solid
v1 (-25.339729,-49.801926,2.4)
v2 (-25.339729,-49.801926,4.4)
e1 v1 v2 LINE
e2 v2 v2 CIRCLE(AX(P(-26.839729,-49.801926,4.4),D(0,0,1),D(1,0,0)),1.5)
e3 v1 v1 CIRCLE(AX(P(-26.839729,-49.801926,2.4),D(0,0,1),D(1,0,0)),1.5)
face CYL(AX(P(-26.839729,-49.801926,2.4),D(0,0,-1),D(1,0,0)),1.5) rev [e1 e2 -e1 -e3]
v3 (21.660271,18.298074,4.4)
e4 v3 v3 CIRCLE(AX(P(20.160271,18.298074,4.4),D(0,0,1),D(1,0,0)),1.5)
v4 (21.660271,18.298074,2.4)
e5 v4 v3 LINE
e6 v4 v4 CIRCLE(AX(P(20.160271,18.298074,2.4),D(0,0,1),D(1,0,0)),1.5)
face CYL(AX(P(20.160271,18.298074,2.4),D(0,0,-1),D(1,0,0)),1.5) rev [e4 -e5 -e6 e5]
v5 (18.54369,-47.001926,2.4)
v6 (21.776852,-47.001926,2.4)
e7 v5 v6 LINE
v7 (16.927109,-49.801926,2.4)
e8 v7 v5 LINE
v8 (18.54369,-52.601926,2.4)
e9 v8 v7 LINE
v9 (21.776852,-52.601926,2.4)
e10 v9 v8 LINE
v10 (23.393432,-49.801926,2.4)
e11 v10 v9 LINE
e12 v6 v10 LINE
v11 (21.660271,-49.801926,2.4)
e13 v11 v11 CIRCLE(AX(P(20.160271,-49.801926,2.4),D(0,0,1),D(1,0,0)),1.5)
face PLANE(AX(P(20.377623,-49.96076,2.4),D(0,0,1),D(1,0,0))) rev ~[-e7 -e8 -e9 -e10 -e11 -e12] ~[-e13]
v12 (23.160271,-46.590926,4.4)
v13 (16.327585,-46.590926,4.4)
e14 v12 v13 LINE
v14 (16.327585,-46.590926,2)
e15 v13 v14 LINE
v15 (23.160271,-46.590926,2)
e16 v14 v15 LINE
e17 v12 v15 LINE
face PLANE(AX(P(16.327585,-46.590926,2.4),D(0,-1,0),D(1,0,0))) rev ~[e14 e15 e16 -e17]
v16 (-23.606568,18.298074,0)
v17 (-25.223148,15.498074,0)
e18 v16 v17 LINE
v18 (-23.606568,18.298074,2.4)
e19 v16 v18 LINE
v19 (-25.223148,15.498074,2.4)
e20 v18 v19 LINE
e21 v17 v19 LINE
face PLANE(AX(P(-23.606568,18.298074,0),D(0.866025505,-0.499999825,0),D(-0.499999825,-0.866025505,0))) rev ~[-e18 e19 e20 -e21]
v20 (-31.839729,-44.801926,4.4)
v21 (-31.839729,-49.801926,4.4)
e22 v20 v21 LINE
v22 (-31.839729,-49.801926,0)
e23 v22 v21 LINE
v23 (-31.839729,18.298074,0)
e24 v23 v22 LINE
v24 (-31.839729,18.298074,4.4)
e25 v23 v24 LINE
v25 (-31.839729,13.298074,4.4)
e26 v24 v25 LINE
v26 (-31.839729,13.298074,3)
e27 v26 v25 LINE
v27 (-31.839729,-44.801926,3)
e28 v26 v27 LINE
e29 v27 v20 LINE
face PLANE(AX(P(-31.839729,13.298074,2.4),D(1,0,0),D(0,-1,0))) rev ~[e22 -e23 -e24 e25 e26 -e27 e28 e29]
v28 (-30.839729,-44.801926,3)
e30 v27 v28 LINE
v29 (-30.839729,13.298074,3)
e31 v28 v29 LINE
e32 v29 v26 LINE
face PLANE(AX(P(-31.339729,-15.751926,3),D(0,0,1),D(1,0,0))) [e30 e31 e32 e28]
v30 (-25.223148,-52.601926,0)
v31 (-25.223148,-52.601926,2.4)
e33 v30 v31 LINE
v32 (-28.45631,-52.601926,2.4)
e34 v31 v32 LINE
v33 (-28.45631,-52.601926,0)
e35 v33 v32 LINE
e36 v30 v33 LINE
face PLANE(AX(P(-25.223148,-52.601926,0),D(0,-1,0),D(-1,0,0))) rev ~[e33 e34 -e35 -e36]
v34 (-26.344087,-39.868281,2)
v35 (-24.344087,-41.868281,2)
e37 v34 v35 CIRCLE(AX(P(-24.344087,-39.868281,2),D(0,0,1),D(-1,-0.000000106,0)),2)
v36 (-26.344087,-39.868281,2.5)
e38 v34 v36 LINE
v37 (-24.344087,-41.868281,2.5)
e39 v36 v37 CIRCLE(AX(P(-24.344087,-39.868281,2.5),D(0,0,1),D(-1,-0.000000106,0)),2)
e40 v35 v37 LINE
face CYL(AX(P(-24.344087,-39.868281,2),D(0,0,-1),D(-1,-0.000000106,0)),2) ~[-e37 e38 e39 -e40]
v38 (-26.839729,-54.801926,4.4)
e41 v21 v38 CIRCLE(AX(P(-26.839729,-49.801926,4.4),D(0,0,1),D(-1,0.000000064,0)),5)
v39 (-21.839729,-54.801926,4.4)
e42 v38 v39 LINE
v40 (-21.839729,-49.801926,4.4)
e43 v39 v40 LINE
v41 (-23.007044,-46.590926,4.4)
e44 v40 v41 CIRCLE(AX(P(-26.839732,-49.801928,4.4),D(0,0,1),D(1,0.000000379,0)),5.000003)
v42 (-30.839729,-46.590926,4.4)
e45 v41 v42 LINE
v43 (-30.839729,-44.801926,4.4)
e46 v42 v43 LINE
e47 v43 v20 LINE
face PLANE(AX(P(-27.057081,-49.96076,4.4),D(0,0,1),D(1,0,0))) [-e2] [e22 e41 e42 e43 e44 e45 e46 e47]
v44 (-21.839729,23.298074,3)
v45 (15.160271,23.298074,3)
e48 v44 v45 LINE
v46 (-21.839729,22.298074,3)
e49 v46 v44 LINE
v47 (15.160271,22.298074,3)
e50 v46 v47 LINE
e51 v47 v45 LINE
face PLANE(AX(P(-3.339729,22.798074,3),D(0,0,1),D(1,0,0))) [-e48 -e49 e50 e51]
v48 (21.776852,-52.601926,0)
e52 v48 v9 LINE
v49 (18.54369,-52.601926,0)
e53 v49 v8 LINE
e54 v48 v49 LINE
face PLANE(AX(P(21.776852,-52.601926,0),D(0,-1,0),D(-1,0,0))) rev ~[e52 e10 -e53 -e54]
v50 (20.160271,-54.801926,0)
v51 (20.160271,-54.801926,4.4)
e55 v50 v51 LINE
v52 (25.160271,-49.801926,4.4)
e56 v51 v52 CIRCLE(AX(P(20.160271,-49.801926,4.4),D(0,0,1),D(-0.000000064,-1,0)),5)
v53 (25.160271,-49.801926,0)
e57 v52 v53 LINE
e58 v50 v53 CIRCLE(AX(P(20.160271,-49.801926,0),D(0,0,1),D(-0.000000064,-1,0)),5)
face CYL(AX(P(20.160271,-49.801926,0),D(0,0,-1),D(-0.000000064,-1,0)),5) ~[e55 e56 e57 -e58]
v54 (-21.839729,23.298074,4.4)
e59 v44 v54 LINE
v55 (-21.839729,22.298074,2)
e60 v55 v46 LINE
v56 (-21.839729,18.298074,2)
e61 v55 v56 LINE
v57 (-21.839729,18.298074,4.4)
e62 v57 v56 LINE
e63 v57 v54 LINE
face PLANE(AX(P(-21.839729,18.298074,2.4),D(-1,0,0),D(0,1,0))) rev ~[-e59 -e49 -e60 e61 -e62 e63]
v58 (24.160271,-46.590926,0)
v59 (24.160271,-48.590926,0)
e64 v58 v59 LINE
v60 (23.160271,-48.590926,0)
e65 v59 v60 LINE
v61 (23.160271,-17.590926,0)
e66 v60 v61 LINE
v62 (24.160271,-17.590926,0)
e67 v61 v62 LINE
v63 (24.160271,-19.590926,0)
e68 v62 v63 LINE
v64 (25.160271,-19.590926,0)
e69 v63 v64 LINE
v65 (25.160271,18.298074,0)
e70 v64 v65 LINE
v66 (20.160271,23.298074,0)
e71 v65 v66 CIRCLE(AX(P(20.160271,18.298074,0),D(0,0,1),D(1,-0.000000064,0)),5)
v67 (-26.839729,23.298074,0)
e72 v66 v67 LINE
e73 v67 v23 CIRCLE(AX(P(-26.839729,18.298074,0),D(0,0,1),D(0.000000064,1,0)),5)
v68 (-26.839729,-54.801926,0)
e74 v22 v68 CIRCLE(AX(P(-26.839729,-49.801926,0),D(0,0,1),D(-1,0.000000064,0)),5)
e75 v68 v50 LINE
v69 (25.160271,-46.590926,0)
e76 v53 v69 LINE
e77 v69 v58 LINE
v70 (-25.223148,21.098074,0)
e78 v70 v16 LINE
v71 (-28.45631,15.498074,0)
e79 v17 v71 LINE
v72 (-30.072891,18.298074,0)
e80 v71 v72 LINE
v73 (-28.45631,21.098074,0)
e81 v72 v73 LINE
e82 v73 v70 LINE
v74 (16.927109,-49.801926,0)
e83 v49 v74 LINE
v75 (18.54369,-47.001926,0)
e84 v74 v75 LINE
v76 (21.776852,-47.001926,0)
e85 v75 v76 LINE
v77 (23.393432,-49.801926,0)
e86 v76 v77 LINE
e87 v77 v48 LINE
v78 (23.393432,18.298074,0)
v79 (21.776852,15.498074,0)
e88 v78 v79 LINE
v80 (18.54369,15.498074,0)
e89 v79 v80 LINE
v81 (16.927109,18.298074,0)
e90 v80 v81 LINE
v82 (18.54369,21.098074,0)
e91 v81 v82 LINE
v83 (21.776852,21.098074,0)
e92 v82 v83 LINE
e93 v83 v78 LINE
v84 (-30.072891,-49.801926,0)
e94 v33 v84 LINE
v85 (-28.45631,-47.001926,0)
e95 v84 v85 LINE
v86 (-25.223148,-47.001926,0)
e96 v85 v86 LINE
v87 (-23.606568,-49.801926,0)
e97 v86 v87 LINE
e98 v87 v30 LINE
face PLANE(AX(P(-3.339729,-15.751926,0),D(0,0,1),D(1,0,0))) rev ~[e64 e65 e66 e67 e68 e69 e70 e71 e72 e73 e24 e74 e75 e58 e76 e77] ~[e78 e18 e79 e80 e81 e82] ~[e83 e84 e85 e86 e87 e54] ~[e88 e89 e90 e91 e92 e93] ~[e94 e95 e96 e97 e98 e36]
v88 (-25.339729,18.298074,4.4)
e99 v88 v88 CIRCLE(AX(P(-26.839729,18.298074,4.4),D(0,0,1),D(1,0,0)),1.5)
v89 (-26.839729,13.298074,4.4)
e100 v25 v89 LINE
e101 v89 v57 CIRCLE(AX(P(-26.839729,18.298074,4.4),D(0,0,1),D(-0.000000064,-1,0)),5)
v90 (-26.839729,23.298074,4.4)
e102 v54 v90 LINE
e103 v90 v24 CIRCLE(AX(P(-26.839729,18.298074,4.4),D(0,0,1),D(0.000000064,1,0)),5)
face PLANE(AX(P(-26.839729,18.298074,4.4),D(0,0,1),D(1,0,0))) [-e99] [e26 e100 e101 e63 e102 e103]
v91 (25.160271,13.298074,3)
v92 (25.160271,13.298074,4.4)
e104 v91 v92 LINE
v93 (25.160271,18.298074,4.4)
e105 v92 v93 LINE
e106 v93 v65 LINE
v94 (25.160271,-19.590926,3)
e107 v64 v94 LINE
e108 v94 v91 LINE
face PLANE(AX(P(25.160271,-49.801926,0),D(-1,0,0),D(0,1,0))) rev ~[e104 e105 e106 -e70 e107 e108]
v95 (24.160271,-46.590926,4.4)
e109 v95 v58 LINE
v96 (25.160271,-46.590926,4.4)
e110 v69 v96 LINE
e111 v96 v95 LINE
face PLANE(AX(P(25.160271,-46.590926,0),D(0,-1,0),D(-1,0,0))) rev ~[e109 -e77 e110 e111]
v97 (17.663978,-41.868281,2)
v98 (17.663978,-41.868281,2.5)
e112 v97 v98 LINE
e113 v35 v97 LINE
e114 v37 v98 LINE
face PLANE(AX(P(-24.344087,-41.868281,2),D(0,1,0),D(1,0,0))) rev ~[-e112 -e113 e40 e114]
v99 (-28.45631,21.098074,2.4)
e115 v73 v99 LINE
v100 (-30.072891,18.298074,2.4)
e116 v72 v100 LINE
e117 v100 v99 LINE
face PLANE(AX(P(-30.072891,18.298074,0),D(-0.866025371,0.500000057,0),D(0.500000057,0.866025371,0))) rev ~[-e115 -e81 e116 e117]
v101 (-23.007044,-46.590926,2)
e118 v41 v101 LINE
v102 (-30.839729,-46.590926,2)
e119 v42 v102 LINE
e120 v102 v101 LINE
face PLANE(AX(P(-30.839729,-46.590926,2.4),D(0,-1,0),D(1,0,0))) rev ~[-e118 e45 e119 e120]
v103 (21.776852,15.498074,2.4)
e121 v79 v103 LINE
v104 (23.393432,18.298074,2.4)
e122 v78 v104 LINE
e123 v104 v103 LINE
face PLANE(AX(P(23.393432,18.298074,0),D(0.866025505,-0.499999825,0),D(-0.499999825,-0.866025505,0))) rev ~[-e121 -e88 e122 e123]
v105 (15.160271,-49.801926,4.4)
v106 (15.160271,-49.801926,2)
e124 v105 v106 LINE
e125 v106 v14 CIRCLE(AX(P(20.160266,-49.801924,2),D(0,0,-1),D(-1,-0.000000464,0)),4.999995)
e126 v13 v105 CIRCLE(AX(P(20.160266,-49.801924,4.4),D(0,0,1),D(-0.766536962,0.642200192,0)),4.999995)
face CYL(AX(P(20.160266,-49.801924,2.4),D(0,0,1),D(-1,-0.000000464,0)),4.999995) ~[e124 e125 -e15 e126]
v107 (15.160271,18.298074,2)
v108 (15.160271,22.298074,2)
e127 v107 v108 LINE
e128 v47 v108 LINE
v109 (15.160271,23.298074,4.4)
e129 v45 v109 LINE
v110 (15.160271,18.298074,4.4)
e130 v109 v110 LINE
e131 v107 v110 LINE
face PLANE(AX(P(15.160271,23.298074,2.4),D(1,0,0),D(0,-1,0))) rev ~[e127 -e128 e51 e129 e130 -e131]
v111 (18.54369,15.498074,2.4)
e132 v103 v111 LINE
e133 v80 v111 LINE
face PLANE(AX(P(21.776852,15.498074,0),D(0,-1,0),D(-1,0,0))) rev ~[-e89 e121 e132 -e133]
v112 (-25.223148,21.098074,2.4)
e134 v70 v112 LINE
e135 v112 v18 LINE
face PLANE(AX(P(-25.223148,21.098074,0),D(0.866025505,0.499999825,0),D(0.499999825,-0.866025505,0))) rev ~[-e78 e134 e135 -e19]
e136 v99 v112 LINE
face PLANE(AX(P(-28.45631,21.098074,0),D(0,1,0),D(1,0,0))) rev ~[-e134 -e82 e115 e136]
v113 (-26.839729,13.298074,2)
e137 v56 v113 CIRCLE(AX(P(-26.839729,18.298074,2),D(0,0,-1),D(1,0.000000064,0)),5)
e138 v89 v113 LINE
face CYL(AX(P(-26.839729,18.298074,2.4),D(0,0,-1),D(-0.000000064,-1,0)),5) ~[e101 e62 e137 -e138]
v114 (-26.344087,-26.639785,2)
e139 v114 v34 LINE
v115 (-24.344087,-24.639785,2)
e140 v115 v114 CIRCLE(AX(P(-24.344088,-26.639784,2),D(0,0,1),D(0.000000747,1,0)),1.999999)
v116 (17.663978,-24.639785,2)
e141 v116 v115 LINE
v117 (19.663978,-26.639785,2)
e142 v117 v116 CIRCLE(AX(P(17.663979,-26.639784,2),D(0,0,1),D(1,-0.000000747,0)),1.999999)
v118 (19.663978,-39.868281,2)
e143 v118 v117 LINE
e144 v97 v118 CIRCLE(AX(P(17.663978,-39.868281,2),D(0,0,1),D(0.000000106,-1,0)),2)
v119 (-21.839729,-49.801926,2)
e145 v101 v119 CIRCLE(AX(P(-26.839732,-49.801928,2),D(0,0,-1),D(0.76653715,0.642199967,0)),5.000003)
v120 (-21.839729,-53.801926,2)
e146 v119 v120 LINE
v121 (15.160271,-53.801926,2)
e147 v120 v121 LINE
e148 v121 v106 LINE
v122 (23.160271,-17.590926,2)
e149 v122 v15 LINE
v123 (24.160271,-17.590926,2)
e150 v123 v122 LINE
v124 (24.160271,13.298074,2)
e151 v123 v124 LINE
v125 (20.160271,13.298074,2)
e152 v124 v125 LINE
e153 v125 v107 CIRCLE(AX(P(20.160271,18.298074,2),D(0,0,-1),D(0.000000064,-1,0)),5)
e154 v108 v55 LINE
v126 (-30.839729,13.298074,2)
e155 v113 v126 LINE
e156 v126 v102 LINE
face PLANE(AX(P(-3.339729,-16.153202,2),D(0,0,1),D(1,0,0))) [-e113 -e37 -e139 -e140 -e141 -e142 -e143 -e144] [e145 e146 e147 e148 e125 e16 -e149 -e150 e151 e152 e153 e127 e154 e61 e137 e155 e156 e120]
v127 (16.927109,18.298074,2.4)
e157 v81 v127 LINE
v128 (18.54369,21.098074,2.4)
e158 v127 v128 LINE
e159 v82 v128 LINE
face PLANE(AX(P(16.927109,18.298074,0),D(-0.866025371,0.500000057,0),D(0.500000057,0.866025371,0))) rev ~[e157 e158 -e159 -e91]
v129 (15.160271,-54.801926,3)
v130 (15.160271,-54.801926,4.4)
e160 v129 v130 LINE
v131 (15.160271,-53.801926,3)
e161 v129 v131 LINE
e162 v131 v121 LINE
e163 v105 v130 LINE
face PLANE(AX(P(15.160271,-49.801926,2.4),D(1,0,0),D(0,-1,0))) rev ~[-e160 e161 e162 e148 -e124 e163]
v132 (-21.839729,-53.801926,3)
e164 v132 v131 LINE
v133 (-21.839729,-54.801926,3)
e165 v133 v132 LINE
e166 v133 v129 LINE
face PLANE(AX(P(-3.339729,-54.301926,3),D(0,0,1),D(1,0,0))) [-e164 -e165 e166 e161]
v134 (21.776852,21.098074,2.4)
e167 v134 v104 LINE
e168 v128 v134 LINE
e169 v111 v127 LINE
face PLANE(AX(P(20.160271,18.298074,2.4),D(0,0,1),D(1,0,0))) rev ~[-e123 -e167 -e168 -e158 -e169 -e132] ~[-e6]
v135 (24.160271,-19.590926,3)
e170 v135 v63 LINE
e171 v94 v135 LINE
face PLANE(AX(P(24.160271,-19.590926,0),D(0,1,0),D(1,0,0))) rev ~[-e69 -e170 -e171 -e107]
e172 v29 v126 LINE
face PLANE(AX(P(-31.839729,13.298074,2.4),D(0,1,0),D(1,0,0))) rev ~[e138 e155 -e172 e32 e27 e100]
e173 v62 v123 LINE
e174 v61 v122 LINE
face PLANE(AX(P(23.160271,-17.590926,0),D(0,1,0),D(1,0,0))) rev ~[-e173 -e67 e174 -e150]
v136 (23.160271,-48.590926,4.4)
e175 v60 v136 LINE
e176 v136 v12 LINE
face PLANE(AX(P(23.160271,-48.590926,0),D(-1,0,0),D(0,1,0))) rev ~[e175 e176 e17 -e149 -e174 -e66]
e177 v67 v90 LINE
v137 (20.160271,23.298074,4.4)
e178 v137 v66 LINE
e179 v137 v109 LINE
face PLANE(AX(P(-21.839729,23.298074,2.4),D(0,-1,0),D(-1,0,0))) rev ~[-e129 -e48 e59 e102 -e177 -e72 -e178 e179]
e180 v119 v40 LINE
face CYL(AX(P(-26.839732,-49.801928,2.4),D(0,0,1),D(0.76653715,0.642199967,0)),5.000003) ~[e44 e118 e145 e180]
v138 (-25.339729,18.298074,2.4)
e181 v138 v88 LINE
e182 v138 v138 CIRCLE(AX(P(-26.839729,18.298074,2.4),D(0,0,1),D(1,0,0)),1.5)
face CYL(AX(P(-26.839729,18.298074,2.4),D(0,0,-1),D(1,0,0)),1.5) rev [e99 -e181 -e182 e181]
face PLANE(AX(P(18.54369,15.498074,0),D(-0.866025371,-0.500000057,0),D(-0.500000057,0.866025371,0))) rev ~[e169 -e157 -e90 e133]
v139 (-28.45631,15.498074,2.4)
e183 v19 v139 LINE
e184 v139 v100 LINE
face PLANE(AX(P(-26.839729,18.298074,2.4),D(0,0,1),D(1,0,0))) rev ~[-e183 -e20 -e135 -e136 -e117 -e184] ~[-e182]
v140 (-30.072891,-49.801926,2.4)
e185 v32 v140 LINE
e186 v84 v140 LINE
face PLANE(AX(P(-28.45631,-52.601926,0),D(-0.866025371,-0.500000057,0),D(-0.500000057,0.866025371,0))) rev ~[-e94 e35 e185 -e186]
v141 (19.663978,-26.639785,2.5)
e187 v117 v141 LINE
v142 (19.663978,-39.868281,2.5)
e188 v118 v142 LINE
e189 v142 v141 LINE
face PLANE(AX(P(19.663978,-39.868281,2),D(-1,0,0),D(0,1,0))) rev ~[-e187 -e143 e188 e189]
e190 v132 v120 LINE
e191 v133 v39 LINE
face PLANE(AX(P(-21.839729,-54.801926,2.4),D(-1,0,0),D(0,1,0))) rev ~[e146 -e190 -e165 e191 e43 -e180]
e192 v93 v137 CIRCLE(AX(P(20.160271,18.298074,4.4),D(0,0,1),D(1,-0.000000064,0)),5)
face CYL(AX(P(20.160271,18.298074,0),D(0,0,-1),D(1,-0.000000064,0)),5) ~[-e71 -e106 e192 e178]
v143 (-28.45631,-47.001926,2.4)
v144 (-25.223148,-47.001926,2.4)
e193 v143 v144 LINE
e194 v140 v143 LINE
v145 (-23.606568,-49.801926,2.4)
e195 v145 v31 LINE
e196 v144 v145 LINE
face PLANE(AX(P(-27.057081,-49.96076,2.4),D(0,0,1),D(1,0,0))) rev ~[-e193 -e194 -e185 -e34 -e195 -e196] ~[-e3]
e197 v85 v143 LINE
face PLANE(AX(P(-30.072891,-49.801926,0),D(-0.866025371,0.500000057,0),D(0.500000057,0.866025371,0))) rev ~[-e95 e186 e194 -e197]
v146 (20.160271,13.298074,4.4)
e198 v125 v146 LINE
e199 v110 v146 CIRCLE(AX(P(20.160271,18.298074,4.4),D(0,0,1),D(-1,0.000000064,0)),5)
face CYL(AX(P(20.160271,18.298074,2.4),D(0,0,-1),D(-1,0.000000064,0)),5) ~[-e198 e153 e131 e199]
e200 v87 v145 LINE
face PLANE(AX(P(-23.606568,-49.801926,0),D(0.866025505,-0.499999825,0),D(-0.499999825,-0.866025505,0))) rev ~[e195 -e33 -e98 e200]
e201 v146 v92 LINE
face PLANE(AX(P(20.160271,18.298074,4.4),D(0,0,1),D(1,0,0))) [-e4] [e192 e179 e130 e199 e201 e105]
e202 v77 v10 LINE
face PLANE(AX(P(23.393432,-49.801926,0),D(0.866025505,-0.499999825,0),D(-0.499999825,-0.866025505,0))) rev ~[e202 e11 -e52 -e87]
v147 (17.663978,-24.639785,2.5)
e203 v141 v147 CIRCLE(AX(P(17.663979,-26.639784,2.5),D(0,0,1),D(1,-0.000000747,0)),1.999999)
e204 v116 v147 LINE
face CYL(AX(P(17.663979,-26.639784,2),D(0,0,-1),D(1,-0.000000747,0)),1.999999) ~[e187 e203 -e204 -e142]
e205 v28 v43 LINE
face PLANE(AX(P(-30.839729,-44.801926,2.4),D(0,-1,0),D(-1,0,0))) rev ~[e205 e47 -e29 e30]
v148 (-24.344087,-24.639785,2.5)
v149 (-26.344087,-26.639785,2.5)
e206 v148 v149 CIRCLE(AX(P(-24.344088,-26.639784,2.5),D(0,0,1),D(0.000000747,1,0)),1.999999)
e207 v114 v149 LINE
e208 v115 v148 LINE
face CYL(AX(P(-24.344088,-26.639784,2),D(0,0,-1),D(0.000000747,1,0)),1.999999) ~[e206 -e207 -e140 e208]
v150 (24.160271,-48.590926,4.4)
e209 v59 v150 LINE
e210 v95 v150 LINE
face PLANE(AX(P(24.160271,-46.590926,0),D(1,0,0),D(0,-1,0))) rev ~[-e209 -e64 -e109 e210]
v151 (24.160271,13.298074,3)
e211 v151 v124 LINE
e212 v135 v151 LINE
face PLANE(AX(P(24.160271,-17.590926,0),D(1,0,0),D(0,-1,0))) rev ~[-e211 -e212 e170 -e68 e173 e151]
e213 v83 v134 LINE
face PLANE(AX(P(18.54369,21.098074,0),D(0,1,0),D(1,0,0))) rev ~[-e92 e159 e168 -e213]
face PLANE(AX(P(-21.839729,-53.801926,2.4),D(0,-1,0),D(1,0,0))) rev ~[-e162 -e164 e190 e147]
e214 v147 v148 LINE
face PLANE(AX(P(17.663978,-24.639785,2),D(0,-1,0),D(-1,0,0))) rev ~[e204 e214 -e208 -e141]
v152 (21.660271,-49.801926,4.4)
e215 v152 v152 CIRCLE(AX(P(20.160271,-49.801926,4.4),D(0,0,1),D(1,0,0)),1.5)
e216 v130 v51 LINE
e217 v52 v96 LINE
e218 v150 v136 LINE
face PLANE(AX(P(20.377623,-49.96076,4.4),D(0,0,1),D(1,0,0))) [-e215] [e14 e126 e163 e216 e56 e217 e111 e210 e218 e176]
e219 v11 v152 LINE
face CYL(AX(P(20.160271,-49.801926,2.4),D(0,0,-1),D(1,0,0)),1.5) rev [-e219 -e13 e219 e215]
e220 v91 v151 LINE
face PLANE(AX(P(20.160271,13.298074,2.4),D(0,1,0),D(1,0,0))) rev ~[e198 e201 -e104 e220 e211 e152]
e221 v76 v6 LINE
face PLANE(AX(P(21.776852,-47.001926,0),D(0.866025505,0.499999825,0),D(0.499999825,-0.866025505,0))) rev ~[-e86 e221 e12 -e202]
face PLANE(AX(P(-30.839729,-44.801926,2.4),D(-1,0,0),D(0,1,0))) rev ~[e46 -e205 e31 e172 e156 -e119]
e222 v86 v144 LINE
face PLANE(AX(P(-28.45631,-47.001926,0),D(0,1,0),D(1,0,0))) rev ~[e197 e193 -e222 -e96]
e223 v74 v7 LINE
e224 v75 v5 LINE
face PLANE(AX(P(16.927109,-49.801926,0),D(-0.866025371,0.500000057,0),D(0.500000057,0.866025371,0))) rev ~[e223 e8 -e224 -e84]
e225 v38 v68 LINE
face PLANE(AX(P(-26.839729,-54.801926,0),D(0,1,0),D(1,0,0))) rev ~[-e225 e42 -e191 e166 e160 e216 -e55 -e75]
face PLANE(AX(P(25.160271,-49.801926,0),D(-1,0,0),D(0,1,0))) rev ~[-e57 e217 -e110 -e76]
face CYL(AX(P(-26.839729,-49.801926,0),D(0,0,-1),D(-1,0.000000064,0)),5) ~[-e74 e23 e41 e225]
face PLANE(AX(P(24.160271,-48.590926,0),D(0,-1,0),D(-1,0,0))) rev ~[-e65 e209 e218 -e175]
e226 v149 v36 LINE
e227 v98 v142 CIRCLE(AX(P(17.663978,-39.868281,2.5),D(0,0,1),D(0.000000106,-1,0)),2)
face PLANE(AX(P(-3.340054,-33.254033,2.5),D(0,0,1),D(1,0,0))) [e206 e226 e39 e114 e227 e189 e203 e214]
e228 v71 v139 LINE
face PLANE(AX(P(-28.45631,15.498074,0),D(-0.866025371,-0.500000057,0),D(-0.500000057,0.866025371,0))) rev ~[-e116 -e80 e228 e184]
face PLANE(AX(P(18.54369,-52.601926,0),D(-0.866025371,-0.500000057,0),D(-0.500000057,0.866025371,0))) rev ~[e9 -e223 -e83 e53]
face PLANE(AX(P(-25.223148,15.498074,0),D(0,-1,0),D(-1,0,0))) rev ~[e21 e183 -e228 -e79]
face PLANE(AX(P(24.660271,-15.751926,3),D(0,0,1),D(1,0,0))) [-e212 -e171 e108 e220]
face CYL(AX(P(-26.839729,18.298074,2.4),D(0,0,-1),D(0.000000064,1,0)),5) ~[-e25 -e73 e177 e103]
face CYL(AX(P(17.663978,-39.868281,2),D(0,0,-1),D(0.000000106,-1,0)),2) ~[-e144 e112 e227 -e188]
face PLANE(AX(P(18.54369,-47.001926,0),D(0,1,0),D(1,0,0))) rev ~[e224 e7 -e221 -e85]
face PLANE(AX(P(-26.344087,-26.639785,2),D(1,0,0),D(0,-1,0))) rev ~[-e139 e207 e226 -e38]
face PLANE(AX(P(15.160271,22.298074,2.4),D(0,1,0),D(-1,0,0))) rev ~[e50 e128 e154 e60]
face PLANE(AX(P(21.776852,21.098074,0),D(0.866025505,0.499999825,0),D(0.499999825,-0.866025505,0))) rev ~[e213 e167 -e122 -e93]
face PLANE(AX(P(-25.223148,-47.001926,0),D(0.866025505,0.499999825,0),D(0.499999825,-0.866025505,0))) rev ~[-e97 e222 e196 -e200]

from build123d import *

# Parameters (mm, degrees)
F1_DEPTH = 2.4
F2_R     = 1.5
F3_DEPTH = 2
F4_DEPTH = 0.4
F2_W     = 37
F2_H     = 1
F5_DEPTH = 0.6
F7_DEPTH = 4.4
F9_DEPTH = 0.5


with BuildPart() as f1:
    # F0 (on Top) → F1 (new body)
    with BuildSketch(Plane.XY):
        with BuildLine():
            Line((20.160271, 23.298074), (-26.839729, 23.298074))
            ThreePointArc((-26.839729, 23.298074), (-30.375263, 21.833608), (-31.839729, 18.298074))
            Line((-31.839729, 18.298074), (-31.839729, -49.801926))
            ThreePointArc((-31.839729, -49.801926), (-30.375263, -53.33746), (-26.839729, -54.801926))
            Line((-26.839729, -54.801926), (20.160271, -54.801926))
            ThreePointArc((20.160271, -54.801926), (23.695805, -53.33746), (25.160271, -49.801926))
            Line((25.160271, -49.801926), (25.160271, 18.298074))
            ThreePointArc((25.160271, 18.298074), (23.695805, 21.833608), (20.160271, 23.298074))
        make_face()
        Polygon((-30.072891, -49.801926), (-28.45631, -47.001926), (-25.223148, -47.001926), (-23.606568, -49.801926), (-25.223148, -52.601926), (-28.45631, -52.601926), align=None, mode=Mode.SUBTRACT)
        Polygon((16.927109, -49.801926), (18.54369, -47.001926), (21.776852, -47.001926), (23.393432, -49.801926), (21.776852, -52.601926), (18.54369, -52.601926), align=None, mode=Mode.SUBTRACT)
        Polygon((-30.072891, 18.298074), (-28.45631, 21.098074), (-25.223148, 21.098074), (-23.606568, 18.298074), (-25.223148, 15.498074), (-28.45631, 15.498074), align=None, mode=Mode.SUBTRACT)
        Polygon((16.927109, 18.298074), (18.54369, 21.098074), (21.776852, 21.098074), (23.393432, 18.298074), (21.776852, 15.498074), (18.54369, 15.498074), align=None, mode=Mode.SUBTRACT)
    extrude(amount=F1_DEPTH)

    # F2 (on face) → F3 (join)
    with BuildSketch(Plane.XY.offset(2.4)):
        with BuildLine():
            Line((-21.839729, 23.298074), (-26.839729, 23.298074))
            ThreePointArc((-26.839729, 23.298074), (-30.375263, 21.833608), (-31.839729, 18.298074))
            Line((-31.839729, 18.298074), (-31.839729, 13.298074))
            Line((-31.839729, 13.298074), (-30.839729, 13.298074))
            Line((-30.839729, 13.298074), (-26.839729, 13.298074))
            ThreePointArc((-26.839729, 13.298074), (-23.304195, 14.76254), (-21.839729, 18.298074))
            Line((-21.839729, 18.298074), (-21.839729, 22.298074))
            Line((-21.839729, 22.298074), (-21.839729, 23.298074))
        make_face()
        Polygon((-28.45631, 15.498074), (-30.072891, 18.298074), (-28.45631, 21.098074), (-25.223148, 21.098074), (-23.606568, 18.298074), (-25.223148, 15.498074), align=None, mode=Mode.SUBTRACT)
        with BuildLine():
            Line((20.160271, 23.298074), (15.160271, 23.298074))
            Line((15.160271, 23.298074), (15.160271, 22.298074))
            Line((15.160271, 22.298074), (15.160271, 18.298074))
            ThreePointArc((15.160271, 18.298074), (16.624737, 14.76254), (20.160271, 13.298074))
            Line((20.160271, 13.298074), (24.160271, 13.298074))
            Line((24.160271, 13.298074), (25.160271, 13.298074))
            Line((25.160271, 13.298074), (25.160271, 18.298074))
            ThreePointArc((25.160271, 18.298074), (23.695805, 21.833608), (20.160271, 23.298074))
        make_face()
        Polygon((23.393432, 18.298074), (21.776852, 15.498074), (18.54369, 15.498074), (16.927109, 18.298074), (18.54369, 21.098074), (21.776852, 21.098074), align=None, mode=Mode.SUBTRACT)
        with BuildLine():
            Line((25.160271, -49.801926), (25.160271, -44.801926))
            Line((25.160271, -44.801926), (24.160271, -44.801926))
            Line((24.160271, -44.801926), (24.160271, -46.590926))
            Line((24.160271, -46.590926), (16.327585, -46.590926))
            ThreePointArc((16.327585, -46.590926), (15.461152, -48.093627), (15.160271, -49.801926))
            Line((15.160271, -49.801926), (15.160271, -53.801926))
            Line((15.160271, -53.801926), (15.160271, -54.801926))
            Line((15.160271, -54.801926), (20.160271, -54.801926))
            ThreePointArc((20.160271, -54.801926), (23.695805, -53.33746), (25.160271, -49.801926))
        make_face()
        Polygon((18.54369, -52.601926), (16.927109, -49.801926), (18.54369, -47.001926), (21.776852, -47.001926), (23.393432, -49.801926), (21.776852, -52.601926), align=None, mode=Mode.SUBTRACT)
        with BuildLine():
            Line((-30.839729, -44.801926), (-31.839729, -44.801926))
            Line((-31.839729, -44.801926), (-31.839729, -49.801926))
            ThreePointArc((-31.839729, -49.801926), (-30.375263, -53.33746), (-26.839729, -54.801926))
            Line((-26.839729, -54.801926), (-21.839729, -54.801926))
            Line((-21.839729, -54.801926), (-21.839729, -53.801926))
            Line((-21.839729, -53.801926), (-21.839729, -49.801926))
            ThreePointArc((-21.839729, -49.801926), (-22.140611, -48.093627), (-23.007044, -46.590926))
            Line((-23.007044, -46.590926), (-30.839729, -46.590926))
            Line((-30.839729, -46.590926), (-30.839729, -44.801926))
        make_face()
        Polygon((-25.223148, -52.601926), (-28.45631, -52.601926), (-30.072891, -49.801926), (-28.45631, -47.001926), (-25.223148, -47.001926), (-23.606568, -49.801926), align=None, mode=Mode.SUBTRACT)
        Polygon((-30.072891, -49.801926), (-28.45631, -52.601926), (-25.223148, -52.601926), (-23.606568, -49.801926), (-25.223148, -47.001926), (-28.45631, -47.001926), align=None)
        with Locations((-26.839729, -49.801926)):
            Circle(F2_R, mode=Mode.SUBTRACT)
        Polygon((18.54369, -47.001926), (16.927109, -49.801926), (18.54369, -52.601926), (21.776852, -52.601926), (23.393432, -49.801926), (21.776852, -47.001926), align=None)
        with Locations((20.160271, -49.801926)):
            Circle(F2_R, mode=Mode.SUBTRACT)
        Polygon((18.54369, 15.498074), (21.776852, 15.498074), (23.393432, 18.298074), (21.776852, 21.098074), (18.54369, 21.098074), (16.927109, 18.298074), align=None)
        with Locations((20.160271, 18.298074)):
            Circle(F2_R, mode=Mode.SUBTRACT)
        Polygon((-28.45631, 21.098074), (-30.072891, 18.298074), (-28.45631, 15.498074), (-25.223148, 15.498074), (-23.606568, 18.298074), (-25.223148, 21.098074), align=None)
        with Locations((-26.839729, 18.298074)):
            Circle(F2_R, mode=Mode.SUBTRACT)
    extrude(amount=F3_DEPTH)

    # F2 (on face) → F4 (cut)
    with BuildSketch(Plane.XY.offset(2.4)):
        with BuildLine():
            Line((15.160271, 22.298074), (-21.839729, 22.298074))
            Line((-21.839729, 22.298074), (-21.839729, 18.298074))
            ThreePointArc((-21.839729, 18.298074), (-23.304195, 14.76254), (-26.839729, 13.298074))
            Line((-26.839729, 13.298074), (-30.839729, 13.298074))
            Line((-30.839729, 13.298074), (-30.839729, -43.238085))
            Line((-30.839729, -43.238085), (-30.839729, -44.801926))
            Line((-30.839729, -44.801926), (-30.839729, -46.590926))
            Line((-30.839729, -46.590926), (-23.007044, -46.590926))
            ThreePointArc((-23.007044, -46.590926), (-22.140611, -48.093627), (-21.839729, -49.801926))
            Line((-21.839729, -49.801926), (-21.839729, -53.801926))
            Line((-21.839729, -53.801926), (15.160271, -53.801926))
            Line((15.160271, -53.801926), (15.160271, -49.801926))
            ThreePointArc((15.160271, -49.801926), (15.461152, -48.093627), (16.327585, -46.590926))
            Line((16.327585, -46.590926), (24.160271, -46.590926))
            Line((24.160271, -46.590926), (24.160271, -44.801926))
            Line((24.160271, -44.801926), (24.160271, -43.238085))
            Line((24.160271, -43.238085), (24.160271, 13.298074))
            Line((24.160271, 13.298074), (20.160271, 13.298074))
            ThreePointArc((20.160271, 13.298074), (16.624737, 14.76254), (15.160271, 18.298074))
            Line((15.160271, 18.298074), (15.160271, 22.298074))
        make_face()
    extrude(amount=-F4_DEPTH, mode=Mode.SUBTRACT)

    # F2 (on face) → F5 (join)
    with BuildSketch(Plane.XY.offset(2.4)):
        Polygon((-30.839729, 13.298074), (-31.839729, 13.298074), (-31.839729, -44.801926), (-30.839729, -44.801926), (-30.839729, -43.238085), align=None)
        with Locations((-3.339729, 22.798074)):
            Rectangle(F2_W, F2_H)
        Polygon((25.160271, -44.801926), (25.160271, 13.298074), (24.160271, 13.298074), (24.160271, -43.238085), (24.160271, -44.801926), align=None)
        with Locations((-3.339729, -54.301926)):
            Rectangle(F2_W, F2_H)
    extrude(amount=F5_DEPTH)

    # F6 (on face) → F7 (cut)
    with BuildSketch(Plane(origin=(0, 0, 0), x_dir=(1, 0, 0), z_dir=(0, 0, -1))):
        Polygon((24.160271, 19.590926), (25.160271, 19.590926), (25.160271, 46.590926), (24.160271, 46.590926), (24.160271, 48.590926), (23.160271, 48.590926), (23.160271, 46.590926), (23.160271, 19.590926), (23.160271, 17.590926), (24.160271, 17.590926), align=None)
    extrude(amount=-F7_DEPTH, mode=Mode.SUBTRACT)

    # F8 (on face) → F9 (join)
    with BuildSketch(Plane.XY.offset(2)):
        with BuildLine():
            ThreePointArc((19.663978, -26.639785), (19.078192, -25.225571), (17.663978, -24.639785))
            Line((17.663978, -24.639785), (-24.344087, -24.639785))
            ThreePointArc((-24.344087, -24.639785), (-25.758301, -25.225571), (-26.344087, -26.639785))
            Line((-26.344087, -26.639785), (-26.344087, -39.868281))
            ThreePointArc((-26.344087, -39.868281), (-25.758301, -41.282494), (-24.344087, -41.868281))
            Line((-24.344087, -41.868281), (17.663978, -41.868281))
            ThreePointArc((17.663978, -41.868281), (19.078192, -41.282494), (19.663978, -39.868281))
            Line((19.663978, -39.868281), (19.663978, -26.639785))
        make_face()
    extrude(amount=F9_DEPTH)


solid = f1.part
